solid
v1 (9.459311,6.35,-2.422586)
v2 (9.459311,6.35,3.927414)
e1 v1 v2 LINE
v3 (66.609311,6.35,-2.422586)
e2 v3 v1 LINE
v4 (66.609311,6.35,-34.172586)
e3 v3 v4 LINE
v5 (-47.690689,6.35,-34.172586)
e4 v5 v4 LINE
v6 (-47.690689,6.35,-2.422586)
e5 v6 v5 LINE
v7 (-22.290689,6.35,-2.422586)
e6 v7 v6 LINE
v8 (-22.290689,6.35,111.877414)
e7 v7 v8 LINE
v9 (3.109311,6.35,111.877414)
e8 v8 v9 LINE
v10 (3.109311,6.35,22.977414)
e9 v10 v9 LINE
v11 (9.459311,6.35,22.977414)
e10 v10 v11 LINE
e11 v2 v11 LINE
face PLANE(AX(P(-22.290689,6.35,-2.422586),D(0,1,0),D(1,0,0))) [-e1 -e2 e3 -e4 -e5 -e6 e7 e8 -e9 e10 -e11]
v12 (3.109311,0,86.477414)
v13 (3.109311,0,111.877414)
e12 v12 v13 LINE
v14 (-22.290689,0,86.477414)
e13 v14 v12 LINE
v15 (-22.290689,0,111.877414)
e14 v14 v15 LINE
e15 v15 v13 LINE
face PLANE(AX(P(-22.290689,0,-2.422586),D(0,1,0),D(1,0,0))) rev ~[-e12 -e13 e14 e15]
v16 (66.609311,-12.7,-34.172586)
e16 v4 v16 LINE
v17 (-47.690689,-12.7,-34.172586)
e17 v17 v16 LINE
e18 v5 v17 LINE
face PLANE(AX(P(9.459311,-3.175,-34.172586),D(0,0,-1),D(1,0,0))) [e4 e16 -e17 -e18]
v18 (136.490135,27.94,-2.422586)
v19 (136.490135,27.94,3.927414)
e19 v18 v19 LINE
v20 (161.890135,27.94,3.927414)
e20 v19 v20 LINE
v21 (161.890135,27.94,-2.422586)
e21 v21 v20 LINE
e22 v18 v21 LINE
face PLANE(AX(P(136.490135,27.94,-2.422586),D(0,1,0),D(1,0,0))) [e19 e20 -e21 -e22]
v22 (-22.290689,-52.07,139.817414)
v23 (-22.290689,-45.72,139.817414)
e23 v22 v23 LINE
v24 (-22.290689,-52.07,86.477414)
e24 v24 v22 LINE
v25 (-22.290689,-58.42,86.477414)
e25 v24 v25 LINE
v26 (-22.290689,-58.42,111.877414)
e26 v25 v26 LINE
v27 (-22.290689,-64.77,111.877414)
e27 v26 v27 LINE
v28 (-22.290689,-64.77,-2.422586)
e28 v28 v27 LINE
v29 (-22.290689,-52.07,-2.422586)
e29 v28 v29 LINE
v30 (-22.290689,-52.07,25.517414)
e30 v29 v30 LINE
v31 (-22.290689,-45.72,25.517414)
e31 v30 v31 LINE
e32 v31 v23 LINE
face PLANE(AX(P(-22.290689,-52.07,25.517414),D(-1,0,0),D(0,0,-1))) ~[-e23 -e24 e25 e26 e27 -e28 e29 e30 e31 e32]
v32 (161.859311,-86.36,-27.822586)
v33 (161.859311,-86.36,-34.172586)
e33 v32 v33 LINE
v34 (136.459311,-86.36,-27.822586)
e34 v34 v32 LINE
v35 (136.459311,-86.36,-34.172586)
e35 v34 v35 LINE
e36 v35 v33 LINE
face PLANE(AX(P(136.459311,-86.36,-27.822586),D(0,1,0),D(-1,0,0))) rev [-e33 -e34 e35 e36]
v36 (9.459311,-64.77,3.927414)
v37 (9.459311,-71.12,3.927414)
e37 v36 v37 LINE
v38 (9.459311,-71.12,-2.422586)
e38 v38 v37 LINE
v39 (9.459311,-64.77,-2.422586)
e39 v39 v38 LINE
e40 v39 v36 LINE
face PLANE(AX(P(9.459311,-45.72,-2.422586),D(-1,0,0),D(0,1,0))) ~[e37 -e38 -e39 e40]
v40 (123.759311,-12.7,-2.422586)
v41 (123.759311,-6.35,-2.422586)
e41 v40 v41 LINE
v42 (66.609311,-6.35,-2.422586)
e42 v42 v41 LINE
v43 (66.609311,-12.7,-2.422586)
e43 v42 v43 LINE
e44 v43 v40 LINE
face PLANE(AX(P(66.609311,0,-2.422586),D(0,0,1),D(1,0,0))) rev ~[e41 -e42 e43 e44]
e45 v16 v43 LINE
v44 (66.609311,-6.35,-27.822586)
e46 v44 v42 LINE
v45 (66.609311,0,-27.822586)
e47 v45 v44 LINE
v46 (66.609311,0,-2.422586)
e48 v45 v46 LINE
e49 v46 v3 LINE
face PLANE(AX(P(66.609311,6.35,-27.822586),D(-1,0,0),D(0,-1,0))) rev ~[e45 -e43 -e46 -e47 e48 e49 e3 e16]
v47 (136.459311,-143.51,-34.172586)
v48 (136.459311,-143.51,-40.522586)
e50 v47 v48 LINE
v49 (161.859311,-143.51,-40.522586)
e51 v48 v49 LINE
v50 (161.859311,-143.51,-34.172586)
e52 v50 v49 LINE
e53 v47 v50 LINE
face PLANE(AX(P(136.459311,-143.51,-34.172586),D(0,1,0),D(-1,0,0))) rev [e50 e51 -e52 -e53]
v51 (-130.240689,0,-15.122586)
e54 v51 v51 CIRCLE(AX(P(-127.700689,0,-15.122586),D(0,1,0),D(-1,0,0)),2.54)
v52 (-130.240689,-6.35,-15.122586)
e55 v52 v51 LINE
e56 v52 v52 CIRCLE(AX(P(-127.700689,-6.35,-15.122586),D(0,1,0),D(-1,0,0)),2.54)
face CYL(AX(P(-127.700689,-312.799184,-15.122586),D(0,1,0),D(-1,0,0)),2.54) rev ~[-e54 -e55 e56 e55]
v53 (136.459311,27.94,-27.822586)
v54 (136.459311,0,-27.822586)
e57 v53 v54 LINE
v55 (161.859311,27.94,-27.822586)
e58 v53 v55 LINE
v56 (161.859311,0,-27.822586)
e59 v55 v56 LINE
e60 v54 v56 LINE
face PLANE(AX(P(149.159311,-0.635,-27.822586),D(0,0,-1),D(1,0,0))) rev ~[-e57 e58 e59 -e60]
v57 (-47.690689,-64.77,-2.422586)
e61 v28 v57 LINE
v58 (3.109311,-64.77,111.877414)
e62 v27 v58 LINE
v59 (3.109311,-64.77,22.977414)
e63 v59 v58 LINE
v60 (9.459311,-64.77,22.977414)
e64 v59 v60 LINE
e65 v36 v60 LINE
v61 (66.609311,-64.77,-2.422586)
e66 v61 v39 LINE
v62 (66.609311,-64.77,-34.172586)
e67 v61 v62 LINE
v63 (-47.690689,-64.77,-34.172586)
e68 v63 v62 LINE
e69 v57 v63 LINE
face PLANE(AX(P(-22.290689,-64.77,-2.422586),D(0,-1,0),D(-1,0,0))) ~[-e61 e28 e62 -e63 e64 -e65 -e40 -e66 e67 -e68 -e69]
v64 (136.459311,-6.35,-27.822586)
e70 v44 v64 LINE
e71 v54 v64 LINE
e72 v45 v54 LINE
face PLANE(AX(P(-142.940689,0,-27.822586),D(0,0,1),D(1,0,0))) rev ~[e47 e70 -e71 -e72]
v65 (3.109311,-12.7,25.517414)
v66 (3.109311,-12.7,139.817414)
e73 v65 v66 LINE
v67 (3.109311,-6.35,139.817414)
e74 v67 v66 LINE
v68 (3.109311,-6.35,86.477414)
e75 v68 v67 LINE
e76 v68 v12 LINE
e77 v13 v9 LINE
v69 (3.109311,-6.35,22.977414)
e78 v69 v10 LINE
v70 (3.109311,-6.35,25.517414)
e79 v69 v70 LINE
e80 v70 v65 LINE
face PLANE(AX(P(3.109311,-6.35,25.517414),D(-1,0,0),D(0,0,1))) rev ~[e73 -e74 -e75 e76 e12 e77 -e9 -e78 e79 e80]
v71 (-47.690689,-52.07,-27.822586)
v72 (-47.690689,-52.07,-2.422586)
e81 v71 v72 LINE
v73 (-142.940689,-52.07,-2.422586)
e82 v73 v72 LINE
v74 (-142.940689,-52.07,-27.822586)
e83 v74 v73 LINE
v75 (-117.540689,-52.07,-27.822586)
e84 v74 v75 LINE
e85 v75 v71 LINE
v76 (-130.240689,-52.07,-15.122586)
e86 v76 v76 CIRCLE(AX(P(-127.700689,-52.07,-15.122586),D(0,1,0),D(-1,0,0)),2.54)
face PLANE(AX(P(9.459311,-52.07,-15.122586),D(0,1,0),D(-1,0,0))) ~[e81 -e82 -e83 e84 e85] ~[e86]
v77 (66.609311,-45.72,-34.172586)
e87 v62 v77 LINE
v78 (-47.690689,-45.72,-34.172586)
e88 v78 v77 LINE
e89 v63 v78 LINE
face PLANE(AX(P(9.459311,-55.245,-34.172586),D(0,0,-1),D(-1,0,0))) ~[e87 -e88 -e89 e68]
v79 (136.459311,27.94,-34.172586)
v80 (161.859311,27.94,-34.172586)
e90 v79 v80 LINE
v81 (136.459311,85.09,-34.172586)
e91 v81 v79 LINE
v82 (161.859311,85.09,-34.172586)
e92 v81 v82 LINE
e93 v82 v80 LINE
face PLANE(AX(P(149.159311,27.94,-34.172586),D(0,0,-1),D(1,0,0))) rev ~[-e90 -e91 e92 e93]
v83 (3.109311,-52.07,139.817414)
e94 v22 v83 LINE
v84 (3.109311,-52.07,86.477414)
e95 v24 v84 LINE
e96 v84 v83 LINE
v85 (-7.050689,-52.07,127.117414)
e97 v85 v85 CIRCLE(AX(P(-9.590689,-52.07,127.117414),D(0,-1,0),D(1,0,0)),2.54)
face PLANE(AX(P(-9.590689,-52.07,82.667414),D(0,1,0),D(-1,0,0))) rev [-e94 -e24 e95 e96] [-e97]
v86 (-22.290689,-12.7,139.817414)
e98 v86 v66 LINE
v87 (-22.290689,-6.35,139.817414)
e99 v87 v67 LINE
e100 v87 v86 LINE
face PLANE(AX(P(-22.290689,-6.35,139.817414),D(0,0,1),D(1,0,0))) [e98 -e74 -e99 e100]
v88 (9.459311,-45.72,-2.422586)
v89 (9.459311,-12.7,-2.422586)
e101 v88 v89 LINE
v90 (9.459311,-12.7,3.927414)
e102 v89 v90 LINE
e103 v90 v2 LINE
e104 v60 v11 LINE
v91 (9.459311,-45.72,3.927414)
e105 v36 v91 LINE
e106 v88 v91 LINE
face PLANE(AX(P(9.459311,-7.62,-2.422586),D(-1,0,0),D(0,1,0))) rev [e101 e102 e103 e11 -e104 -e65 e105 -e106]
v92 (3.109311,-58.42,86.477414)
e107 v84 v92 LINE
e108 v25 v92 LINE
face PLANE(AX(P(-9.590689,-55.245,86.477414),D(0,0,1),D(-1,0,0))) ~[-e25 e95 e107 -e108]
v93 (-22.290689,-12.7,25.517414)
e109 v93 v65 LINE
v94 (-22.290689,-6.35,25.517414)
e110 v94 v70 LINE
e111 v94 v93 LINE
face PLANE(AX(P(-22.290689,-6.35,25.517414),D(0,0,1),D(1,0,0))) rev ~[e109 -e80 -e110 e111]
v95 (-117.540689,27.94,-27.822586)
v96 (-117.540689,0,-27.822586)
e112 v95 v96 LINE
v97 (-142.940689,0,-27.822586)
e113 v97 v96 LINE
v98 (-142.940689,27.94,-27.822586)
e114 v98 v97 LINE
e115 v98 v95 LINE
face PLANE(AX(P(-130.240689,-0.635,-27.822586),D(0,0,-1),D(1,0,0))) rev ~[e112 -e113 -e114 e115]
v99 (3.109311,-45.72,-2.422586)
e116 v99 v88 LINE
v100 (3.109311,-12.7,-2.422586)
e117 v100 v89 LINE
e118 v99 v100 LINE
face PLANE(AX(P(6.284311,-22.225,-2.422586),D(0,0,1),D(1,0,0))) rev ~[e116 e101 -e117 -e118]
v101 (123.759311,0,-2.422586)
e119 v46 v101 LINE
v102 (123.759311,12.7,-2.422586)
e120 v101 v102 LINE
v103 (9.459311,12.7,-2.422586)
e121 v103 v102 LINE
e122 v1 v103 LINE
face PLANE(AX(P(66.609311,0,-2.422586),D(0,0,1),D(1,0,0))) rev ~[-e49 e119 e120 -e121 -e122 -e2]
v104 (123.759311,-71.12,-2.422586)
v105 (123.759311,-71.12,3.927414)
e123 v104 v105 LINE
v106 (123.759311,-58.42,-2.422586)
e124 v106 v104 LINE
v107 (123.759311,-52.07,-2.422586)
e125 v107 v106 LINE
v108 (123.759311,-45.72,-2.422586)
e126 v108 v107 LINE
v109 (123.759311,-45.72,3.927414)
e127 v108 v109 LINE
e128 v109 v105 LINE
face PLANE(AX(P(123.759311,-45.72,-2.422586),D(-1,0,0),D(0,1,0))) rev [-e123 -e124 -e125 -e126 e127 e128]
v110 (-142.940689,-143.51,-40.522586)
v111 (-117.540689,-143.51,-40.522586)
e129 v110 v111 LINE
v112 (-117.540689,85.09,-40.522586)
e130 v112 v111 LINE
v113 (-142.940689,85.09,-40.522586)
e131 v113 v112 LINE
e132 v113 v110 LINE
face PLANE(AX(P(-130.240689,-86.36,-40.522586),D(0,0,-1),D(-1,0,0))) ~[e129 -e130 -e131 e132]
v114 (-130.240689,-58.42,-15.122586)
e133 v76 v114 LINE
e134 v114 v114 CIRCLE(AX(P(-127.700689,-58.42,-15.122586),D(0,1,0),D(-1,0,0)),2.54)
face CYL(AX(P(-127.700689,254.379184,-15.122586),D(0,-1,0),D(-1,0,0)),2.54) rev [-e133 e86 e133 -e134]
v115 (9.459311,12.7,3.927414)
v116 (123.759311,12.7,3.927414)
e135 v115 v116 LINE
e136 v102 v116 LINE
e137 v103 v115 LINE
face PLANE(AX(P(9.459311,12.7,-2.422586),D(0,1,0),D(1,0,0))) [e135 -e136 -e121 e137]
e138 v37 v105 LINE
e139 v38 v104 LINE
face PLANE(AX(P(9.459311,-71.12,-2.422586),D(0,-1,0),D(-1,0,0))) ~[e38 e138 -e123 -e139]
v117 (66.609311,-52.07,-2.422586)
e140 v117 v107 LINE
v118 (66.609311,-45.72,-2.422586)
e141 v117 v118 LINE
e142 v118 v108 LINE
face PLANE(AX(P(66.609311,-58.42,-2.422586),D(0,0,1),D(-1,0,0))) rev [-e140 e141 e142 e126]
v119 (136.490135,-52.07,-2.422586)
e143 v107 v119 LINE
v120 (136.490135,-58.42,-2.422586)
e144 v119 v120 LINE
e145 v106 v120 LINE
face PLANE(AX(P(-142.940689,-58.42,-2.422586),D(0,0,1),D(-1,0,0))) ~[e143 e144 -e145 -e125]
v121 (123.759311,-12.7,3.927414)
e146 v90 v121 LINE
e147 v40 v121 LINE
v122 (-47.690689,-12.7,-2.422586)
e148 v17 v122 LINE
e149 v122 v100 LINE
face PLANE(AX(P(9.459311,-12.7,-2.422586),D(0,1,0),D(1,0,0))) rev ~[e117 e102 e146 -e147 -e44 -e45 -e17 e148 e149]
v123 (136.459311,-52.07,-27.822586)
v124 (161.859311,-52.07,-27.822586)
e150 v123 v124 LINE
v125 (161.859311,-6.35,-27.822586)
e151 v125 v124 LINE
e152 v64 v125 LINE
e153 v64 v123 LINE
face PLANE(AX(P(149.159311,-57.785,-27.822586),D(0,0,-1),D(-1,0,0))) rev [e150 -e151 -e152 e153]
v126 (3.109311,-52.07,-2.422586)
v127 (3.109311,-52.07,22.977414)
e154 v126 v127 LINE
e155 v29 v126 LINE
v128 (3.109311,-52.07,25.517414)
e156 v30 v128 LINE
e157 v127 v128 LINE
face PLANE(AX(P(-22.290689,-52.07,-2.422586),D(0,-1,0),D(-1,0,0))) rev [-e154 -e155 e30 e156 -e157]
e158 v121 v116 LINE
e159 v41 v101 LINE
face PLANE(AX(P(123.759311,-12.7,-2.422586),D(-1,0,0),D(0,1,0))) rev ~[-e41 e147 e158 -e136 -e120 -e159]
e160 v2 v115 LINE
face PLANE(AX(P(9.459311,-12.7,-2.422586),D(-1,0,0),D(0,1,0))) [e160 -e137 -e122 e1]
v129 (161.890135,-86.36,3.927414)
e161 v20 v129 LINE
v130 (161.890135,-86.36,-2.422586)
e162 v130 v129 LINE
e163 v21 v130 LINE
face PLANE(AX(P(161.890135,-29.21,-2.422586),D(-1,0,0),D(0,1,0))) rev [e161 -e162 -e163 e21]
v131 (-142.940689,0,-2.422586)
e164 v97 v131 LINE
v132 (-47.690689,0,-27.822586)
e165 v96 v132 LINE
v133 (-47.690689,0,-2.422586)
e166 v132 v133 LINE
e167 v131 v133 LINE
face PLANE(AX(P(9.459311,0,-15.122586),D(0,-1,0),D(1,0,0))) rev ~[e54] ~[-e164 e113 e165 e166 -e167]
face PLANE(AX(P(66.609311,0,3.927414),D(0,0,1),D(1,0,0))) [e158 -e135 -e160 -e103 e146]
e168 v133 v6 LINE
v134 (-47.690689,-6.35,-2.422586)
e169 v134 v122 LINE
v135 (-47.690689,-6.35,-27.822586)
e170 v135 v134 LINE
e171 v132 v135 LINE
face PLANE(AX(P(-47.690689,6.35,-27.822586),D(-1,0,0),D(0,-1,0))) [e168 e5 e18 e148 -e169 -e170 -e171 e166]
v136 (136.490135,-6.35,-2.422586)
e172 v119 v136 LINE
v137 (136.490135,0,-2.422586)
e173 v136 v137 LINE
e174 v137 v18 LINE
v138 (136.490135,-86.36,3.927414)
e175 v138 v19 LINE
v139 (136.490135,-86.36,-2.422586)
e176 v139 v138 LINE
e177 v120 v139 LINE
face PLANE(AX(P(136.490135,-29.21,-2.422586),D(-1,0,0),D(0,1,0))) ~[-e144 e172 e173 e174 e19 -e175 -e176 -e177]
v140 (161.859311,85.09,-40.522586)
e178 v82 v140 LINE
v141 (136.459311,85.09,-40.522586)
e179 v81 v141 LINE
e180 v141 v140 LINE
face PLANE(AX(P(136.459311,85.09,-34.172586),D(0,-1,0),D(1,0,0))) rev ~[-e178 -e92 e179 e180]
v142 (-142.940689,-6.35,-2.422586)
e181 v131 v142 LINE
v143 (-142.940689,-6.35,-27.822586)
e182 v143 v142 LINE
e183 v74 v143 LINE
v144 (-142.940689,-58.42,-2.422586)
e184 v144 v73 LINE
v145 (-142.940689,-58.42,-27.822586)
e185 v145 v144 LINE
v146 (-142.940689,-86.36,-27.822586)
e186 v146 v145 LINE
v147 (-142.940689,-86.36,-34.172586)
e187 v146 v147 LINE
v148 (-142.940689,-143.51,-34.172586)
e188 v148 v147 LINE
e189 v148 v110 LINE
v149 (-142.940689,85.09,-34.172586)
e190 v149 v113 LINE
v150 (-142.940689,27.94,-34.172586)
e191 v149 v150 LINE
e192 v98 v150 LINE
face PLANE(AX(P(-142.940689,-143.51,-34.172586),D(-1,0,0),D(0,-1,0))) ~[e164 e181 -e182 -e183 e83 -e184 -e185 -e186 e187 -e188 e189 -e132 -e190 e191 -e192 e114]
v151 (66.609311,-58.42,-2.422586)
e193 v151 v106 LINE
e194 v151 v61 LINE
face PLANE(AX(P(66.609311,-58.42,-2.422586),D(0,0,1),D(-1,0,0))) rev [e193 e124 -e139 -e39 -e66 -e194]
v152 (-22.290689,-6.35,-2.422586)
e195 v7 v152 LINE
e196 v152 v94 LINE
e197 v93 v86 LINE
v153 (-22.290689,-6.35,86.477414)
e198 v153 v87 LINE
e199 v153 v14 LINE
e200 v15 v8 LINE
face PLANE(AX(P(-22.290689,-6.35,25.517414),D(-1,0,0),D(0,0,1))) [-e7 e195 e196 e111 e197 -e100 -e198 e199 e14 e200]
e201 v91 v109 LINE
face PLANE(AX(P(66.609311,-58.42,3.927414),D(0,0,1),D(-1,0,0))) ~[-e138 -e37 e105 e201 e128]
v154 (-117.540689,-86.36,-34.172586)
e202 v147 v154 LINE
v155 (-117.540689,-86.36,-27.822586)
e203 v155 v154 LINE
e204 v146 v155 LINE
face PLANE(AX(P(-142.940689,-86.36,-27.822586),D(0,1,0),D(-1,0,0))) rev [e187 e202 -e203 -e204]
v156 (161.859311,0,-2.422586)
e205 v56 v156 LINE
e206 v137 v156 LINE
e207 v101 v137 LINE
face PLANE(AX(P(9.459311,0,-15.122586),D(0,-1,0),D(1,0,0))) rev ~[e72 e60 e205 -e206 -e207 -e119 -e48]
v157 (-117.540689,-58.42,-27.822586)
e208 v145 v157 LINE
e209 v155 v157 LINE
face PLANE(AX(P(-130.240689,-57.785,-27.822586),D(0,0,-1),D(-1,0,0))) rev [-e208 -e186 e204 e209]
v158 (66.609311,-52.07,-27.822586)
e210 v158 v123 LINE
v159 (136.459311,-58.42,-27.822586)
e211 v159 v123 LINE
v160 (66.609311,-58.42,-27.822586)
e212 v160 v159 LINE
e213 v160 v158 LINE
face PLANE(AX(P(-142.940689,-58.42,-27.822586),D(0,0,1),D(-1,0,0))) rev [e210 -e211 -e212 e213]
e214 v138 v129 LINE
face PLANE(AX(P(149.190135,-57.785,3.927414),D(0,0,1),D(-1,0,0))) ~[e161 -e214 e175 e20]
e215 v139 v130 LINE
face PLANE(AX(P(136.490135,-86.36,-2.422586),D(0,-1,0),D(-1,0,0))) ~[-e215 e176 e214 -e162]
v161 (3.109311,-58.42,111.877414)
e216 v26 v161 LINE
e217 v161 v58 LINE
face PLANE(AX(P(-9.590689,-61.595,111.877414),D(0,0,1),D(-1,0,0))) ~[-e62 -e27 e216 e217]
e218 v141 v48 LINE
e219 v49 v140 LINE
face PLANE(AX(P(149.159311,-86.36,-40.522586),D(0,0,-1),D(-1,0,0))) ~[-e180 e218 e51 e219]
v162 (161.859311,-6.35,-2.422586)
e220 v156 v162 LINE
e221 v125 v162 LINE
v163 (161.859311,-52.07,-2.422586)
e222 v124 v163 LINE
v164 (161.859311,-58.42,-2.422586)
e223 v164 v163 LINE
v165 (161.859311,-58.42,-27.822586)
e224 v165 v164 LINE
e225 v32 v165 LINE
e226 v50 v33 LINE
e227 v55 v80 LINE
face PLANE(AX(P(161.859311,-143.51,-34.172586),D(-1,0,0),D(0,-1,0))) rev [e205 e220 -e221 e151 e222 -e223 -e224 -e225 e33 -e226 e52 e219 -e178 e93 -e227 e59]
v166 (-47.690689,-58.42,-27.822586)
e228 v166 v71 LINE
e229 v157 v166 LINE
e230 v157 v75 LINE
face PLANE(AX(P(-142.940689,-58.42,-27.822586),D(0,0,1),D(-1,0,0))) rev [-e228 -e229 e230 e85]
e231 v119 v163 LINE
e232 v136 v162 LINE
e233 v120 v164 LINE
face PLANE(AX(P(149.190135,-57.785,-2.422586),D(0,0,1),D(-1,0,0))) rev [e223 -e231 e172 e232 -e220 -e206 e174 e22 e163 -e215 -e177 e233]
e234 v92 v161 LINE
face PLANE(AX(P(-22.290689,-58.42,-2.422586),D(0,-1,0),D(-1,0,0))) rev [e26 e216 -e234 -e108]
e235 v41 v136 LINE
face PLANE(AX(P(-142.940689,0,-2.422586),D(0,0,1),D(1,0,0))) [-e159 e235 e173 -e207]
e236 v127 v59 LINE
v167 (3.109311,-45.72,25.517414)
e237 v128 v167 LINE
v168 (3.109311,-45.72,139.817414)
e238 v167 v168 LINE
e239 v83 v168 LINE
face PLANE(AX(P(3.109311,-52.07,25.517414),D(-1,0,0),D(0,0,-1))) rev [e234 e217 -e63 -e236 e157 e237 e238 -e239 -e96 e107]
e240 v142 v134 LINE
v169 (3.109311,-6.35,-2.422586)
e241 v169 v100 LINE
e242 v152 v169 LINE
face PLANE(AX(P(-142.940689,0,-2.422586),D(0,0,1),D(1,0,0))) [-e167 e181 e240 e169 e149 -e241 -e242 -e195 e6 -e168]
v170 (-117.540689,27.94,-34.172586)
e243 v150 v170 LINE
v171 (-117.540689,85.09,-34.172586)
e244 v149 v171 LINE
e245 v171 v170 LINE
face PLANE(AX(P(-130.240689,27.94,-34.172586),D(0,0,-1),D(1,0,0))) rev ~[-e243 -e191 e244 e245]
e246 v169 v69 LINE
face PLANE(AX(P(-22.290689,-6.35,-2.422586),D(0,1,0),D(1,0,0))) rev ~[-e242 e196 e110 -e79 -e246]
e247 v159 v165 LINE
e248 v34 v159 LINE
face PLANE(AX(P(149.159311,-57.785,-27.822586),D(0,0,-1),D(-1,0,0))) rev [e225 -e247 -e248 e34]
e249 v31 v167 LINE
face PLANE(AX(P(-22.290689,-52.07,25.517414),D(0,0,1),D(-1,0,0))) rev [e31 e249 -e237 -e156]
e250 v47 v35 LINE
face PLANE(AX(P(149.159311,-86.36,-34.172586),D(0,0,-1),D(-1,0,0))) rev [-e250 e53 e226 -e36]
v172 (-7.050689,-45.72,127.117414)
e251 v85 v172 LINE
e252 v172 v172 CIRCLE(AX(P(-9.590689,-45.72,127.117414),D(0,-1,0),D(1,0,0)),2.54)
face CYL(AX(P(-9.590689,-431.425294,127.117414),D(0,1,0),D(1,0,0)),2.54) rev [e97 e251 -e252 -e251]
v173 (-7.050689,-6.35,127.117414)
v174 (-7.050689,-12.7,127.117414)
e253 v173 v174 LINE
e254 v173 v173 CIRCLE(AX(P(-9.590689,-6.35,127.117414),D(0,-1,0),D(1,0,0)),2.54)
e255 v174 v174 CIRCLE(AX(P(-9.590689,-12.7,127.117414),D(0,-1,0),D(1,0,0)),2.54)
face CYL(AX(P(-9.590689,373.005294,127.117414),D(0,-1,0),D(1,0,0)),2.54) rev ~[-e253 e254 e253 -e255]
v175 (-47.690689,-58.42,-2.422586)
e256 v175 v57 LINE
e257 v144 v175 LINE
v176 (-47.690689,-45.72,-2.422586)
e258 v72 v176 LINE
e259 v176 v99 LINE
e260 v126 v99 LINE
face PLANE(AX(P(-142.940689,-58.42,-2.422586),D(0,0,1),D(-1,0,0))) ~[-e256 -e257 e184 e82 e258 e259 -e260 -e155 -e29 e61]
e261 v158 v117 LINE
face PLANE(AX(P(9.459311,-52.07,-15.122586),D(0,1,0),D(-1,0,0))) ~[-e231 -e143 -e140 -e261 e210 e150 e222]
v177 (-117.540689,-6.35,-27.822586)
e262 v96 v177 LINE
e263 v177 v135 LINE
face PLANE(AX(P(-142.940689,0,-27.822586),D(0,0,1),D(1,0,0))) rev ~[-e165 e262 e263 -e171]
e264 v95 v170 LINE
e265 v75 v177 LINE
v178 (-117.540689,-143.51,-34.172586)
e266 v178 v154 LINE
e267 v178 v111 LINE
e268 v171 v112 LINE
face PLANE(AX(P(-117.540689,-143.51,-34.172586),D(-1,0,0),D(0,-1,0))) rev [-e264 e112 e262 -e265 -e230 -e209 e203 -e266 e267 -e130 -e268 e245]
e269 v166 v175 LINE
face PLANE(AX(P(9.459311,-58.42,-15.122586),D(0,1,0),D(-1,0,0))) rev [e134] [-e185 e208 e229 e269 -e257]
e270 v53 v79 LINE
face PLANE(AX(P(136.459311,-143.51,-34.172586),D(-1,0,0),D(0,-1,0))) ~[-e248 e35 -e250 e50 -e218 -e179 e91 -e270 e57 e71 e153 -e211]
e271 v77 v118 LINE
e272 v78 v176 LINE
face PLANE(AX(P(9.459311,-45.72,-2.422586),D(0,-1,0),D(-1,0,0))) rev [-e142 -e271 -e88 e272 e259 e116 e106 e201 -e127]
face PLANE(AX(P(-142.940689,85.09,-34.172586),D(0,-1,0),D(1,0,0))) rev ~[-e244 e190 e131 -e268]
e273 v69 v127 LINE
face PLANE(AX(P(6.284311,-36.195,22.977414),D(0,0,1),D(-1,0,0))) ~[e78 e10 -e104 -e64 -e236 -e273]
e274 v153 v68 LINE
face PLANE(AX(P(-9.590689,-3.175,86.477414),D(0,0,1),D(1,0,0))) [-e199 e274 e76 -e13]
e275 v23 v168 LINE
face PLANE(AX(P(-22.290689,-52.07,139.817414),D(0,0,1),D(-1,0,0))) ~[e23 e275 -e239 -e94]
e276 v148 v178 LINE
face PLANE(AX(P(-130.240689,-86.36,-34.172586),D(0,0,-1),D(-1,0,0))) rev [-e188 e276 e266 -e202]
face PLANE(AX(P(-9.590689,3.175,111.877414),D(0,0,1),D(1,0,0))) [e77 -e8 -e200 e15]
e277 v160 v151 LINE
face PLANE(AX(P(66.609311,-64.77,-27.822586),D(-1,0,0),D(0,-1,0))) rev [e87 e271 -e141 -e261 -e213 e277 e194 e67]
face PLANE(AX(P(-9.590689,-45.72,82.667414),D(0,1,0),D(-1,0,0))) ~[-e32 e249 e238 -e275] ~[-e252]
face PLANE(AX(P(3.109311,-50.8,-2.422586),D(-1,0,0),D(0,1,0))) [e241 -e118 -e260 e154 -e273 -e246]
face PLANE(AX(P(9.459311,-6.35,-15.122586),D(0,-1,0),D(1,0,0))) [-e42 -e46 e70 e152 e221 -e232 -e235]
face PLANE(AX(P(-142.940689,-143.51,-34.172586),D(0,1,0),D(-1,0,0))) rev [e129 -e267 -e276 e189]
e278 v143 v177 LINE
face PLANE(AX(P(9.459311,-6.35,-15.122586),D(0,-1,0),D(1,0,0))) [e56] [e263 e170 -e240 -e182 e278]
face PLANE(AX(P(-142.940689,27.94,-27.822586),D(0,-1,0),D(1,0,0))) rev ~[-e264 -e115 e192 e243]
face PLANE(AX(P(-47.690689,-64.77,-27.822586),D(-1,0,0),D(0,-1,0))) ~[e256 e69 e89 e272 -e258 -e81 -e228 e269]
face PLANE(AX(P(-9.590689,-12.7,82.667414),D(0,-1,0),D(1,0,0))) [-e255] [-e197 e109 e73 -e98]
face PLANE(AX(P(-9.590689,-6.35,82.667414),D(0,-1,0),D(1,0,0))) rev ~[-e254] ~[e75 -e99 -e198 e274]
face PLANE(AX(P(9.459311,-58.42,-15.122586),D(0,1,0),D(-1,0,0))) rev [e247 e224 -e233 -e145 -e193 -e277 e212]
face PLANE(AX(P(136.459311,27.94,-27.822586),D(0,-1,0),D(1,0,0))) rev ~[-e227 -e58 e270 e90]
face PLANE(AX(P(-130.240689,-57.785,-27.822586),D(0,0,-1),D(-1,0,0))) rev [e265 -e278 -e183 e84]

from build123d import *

# Parameters (mm, degrees)
F0_W      = 304.8
F0_H      = 25.4
F1_DEPTH  = 6.35
F2_W      = 114.3
F2_H      = 25.4
F3_DEPTH  = 6.35
F4_W      = 114.3
F4_H      = 25.4
F5_DEPTH  = 6.35
F7_D      = 5.08
F8_W      = 114.3
F8_H      = 19.05
F9_DEPTH  = 6.35
F10_W     = 25.4
F10_H     = 57.15
F11_DEPTH = 6.35
F12_W     = 25.4
F12_H     = 114.3
F13_DEPTH = 6.35
F14_W     = 25.4
F14_H     = 57.15
F15_DEPTH = 6.35
F16_W     = 25.4
F16_H     = 114.3
F17_DEPTH = 6.35
F18_W     = 25.4
F18_H     = 57.15
F19_DEPTH = 6.35
F20_W     = 6.35
F20_H     = 57.15
F21_DEPTH = 25.4
F22_W     = 114.3
F22_H     = 25.4
F23_DEPTH = 6.35
F24_W     = 25.4
F24_H     = 6.35
F25_DEPTH = 88.9
F26_W     = 25.4
F26_H     = 6.35
F27_DEPTH = 114.3
F28_W     = 25.4
F28_H     = 114.3
F29_DEPTH = 6.35
F31_D     = 5.08


with BuildPart() as f1:
    # F0 (on Front) → F1 (new body)
    with BuildSketch(Plane.XZ):
        with Locations((9.459311, -15.122586)):
            Rectangle(F0_W, F0_H)
    extrude(amount=F1_DEPTH)

    # F2 (on face) → F3 (join)
    with BuildSketch(Plane.XZ.offset(6.35)):
        with Locations((9.459311, -15.122586)):
            Rectangle(F2_W, F2_H)
    extrude(amount=F3_DEPTH)

    # F4 (on face) → F5 (join)
    with BuildSketch(Plane(origin=(0, 0, 0), x_dir=(-1, 0, 0), z_dir=(0, 1, 0))):
        with Locations((-9.459311, -15.122586)):
            Rectangle(F4_W, F4_H)
    extrude(amount=F5_DEPTH)

    # F7 (through all)
    with Locations(Plane.XZ.offset(6.35)):
        with Locations((-127.700689, -15.122586)):
            Hole(F7_D / 2)

    # F8 (on face) → F9 (join)
    with BuildSketch(Plane(origin=(0, 0, -27.822586), x_dir=(1, 0, 0), z_dir=(0, 0, -1))):
        with Locations((9.459311, 3.175)):
            Rectangle(F8_W, F8_H)
    extrude(amount=F9_DEPTH)

    # F10 (on face) → F11 (join)
    with BuildSketch(Plane(origin=(0, 0, -27.822586), x_dir=(1, 0, 0), z_dir=(0, 0, -1))):
        with Locations((-130.240689, 0.635)):
            Rectangle(F10_W, F10_H)
    extrude(amount=F11_DEPTH)

    # F12 (on face) → F13 (join)
    with BuildSketch(Plane(origin=(0, 0, -34.172586), x_dir=(1, 0, 0), z_dir=(0, 0, -1))):
        with Locations((-130.240689, -27.94)):
            Rectangle(F12_W, F12_H)
    extrude(amount=F13_DEPTH)

    # F14 (on face) → F15 (join)
    with BuildSketch(Plane(origin=(0, 0, -27.822586), x_dir=(1, 0, 0), z_dir=(0, 0, -1))):
        with Locations((149.159311, 0.635)):
            Rectangle(F14_W, F14_H)
    extrude(amount=F15_DEPTH)

    # F16 (on face) → F17 (join)
    with BuildSketch(Plane(origin=(0, 0, -34.172586), x_dir=(1, 0, 0), z_dir=(0, 0, -1))):
        with Locations((149.159311, -27.94)):
            Rectangle(F16_W, F16_H)
    extrude(amount=F17_DEPTH)

    # F18 (on face) → F19 (join)
    with BuildSketch(Plane.XY.offset(-2.422586)):
        with Locations((149.190135, -0.635)):
            Rectangle(F18_W, F18_H)
    extrude(amount=F19_DEPTH)

    # F20 (on face) → F21 (join)
    with BuildSketch(Plane.XY.offset(-2.422586)):
        with Locations((6.284311, -22.225)):
            Rectangle(F20_W, F20_H)
    extrude(amount=F21_DEPTH)

    # F22 (on face) → F23 (join)
    with BuildSketch(Plane.XY.offset(-2.422586)):
        with Locations((66.609311, 0)):
            Rectangle(F22_W, F22_H)
    extrude(amount=F23_DEPTH)

    # F24 (on face) → F25 (join)
    with BuildSketch(Plane.XY.offset(-2.422586)):
        with Locations((-9.590689, -3.175)):
            Rectangle(F24_W, F24_H)
    extrude(amount=F25_DEPTH)

    # F26 (on face) → F27 (join)
    with BuildSketch(Plane.XY.offset(-2.422586)):
        with Locations((-9.590689, 3.175)):
            Rectangle(F26_W, F26_H)
    extrude(amount=F27_DEPTH)

    # F28 (on face) → F29 (join)
    with BuildSketch(Plane.XZ.offset(6.35)):
        with Locations((-9.590689, 82.667414)):
            Rectangle(F28_W, F28_H)
    extrude(amount=F29_DEPTH)

    # F31 (through all)
    with Locations(Plane(origin=(0, -6.35, 0), x_dir=(-1, 0, 0), z_dir=(0, 1, 0))):
        with Locations((9.590689, 127.117414)):
            Hole(F31_D / 2)

    # F32: F1 across face


with BuildPart() as f1_1:
    add(f1.part)
    add(f1.part.mirror(Plane(origin=(-130.240689, -29.21, -34.172586), x_dir=(1, 0, 0), z_dir=(0, -1, 0))))


solid = f1_1.part
